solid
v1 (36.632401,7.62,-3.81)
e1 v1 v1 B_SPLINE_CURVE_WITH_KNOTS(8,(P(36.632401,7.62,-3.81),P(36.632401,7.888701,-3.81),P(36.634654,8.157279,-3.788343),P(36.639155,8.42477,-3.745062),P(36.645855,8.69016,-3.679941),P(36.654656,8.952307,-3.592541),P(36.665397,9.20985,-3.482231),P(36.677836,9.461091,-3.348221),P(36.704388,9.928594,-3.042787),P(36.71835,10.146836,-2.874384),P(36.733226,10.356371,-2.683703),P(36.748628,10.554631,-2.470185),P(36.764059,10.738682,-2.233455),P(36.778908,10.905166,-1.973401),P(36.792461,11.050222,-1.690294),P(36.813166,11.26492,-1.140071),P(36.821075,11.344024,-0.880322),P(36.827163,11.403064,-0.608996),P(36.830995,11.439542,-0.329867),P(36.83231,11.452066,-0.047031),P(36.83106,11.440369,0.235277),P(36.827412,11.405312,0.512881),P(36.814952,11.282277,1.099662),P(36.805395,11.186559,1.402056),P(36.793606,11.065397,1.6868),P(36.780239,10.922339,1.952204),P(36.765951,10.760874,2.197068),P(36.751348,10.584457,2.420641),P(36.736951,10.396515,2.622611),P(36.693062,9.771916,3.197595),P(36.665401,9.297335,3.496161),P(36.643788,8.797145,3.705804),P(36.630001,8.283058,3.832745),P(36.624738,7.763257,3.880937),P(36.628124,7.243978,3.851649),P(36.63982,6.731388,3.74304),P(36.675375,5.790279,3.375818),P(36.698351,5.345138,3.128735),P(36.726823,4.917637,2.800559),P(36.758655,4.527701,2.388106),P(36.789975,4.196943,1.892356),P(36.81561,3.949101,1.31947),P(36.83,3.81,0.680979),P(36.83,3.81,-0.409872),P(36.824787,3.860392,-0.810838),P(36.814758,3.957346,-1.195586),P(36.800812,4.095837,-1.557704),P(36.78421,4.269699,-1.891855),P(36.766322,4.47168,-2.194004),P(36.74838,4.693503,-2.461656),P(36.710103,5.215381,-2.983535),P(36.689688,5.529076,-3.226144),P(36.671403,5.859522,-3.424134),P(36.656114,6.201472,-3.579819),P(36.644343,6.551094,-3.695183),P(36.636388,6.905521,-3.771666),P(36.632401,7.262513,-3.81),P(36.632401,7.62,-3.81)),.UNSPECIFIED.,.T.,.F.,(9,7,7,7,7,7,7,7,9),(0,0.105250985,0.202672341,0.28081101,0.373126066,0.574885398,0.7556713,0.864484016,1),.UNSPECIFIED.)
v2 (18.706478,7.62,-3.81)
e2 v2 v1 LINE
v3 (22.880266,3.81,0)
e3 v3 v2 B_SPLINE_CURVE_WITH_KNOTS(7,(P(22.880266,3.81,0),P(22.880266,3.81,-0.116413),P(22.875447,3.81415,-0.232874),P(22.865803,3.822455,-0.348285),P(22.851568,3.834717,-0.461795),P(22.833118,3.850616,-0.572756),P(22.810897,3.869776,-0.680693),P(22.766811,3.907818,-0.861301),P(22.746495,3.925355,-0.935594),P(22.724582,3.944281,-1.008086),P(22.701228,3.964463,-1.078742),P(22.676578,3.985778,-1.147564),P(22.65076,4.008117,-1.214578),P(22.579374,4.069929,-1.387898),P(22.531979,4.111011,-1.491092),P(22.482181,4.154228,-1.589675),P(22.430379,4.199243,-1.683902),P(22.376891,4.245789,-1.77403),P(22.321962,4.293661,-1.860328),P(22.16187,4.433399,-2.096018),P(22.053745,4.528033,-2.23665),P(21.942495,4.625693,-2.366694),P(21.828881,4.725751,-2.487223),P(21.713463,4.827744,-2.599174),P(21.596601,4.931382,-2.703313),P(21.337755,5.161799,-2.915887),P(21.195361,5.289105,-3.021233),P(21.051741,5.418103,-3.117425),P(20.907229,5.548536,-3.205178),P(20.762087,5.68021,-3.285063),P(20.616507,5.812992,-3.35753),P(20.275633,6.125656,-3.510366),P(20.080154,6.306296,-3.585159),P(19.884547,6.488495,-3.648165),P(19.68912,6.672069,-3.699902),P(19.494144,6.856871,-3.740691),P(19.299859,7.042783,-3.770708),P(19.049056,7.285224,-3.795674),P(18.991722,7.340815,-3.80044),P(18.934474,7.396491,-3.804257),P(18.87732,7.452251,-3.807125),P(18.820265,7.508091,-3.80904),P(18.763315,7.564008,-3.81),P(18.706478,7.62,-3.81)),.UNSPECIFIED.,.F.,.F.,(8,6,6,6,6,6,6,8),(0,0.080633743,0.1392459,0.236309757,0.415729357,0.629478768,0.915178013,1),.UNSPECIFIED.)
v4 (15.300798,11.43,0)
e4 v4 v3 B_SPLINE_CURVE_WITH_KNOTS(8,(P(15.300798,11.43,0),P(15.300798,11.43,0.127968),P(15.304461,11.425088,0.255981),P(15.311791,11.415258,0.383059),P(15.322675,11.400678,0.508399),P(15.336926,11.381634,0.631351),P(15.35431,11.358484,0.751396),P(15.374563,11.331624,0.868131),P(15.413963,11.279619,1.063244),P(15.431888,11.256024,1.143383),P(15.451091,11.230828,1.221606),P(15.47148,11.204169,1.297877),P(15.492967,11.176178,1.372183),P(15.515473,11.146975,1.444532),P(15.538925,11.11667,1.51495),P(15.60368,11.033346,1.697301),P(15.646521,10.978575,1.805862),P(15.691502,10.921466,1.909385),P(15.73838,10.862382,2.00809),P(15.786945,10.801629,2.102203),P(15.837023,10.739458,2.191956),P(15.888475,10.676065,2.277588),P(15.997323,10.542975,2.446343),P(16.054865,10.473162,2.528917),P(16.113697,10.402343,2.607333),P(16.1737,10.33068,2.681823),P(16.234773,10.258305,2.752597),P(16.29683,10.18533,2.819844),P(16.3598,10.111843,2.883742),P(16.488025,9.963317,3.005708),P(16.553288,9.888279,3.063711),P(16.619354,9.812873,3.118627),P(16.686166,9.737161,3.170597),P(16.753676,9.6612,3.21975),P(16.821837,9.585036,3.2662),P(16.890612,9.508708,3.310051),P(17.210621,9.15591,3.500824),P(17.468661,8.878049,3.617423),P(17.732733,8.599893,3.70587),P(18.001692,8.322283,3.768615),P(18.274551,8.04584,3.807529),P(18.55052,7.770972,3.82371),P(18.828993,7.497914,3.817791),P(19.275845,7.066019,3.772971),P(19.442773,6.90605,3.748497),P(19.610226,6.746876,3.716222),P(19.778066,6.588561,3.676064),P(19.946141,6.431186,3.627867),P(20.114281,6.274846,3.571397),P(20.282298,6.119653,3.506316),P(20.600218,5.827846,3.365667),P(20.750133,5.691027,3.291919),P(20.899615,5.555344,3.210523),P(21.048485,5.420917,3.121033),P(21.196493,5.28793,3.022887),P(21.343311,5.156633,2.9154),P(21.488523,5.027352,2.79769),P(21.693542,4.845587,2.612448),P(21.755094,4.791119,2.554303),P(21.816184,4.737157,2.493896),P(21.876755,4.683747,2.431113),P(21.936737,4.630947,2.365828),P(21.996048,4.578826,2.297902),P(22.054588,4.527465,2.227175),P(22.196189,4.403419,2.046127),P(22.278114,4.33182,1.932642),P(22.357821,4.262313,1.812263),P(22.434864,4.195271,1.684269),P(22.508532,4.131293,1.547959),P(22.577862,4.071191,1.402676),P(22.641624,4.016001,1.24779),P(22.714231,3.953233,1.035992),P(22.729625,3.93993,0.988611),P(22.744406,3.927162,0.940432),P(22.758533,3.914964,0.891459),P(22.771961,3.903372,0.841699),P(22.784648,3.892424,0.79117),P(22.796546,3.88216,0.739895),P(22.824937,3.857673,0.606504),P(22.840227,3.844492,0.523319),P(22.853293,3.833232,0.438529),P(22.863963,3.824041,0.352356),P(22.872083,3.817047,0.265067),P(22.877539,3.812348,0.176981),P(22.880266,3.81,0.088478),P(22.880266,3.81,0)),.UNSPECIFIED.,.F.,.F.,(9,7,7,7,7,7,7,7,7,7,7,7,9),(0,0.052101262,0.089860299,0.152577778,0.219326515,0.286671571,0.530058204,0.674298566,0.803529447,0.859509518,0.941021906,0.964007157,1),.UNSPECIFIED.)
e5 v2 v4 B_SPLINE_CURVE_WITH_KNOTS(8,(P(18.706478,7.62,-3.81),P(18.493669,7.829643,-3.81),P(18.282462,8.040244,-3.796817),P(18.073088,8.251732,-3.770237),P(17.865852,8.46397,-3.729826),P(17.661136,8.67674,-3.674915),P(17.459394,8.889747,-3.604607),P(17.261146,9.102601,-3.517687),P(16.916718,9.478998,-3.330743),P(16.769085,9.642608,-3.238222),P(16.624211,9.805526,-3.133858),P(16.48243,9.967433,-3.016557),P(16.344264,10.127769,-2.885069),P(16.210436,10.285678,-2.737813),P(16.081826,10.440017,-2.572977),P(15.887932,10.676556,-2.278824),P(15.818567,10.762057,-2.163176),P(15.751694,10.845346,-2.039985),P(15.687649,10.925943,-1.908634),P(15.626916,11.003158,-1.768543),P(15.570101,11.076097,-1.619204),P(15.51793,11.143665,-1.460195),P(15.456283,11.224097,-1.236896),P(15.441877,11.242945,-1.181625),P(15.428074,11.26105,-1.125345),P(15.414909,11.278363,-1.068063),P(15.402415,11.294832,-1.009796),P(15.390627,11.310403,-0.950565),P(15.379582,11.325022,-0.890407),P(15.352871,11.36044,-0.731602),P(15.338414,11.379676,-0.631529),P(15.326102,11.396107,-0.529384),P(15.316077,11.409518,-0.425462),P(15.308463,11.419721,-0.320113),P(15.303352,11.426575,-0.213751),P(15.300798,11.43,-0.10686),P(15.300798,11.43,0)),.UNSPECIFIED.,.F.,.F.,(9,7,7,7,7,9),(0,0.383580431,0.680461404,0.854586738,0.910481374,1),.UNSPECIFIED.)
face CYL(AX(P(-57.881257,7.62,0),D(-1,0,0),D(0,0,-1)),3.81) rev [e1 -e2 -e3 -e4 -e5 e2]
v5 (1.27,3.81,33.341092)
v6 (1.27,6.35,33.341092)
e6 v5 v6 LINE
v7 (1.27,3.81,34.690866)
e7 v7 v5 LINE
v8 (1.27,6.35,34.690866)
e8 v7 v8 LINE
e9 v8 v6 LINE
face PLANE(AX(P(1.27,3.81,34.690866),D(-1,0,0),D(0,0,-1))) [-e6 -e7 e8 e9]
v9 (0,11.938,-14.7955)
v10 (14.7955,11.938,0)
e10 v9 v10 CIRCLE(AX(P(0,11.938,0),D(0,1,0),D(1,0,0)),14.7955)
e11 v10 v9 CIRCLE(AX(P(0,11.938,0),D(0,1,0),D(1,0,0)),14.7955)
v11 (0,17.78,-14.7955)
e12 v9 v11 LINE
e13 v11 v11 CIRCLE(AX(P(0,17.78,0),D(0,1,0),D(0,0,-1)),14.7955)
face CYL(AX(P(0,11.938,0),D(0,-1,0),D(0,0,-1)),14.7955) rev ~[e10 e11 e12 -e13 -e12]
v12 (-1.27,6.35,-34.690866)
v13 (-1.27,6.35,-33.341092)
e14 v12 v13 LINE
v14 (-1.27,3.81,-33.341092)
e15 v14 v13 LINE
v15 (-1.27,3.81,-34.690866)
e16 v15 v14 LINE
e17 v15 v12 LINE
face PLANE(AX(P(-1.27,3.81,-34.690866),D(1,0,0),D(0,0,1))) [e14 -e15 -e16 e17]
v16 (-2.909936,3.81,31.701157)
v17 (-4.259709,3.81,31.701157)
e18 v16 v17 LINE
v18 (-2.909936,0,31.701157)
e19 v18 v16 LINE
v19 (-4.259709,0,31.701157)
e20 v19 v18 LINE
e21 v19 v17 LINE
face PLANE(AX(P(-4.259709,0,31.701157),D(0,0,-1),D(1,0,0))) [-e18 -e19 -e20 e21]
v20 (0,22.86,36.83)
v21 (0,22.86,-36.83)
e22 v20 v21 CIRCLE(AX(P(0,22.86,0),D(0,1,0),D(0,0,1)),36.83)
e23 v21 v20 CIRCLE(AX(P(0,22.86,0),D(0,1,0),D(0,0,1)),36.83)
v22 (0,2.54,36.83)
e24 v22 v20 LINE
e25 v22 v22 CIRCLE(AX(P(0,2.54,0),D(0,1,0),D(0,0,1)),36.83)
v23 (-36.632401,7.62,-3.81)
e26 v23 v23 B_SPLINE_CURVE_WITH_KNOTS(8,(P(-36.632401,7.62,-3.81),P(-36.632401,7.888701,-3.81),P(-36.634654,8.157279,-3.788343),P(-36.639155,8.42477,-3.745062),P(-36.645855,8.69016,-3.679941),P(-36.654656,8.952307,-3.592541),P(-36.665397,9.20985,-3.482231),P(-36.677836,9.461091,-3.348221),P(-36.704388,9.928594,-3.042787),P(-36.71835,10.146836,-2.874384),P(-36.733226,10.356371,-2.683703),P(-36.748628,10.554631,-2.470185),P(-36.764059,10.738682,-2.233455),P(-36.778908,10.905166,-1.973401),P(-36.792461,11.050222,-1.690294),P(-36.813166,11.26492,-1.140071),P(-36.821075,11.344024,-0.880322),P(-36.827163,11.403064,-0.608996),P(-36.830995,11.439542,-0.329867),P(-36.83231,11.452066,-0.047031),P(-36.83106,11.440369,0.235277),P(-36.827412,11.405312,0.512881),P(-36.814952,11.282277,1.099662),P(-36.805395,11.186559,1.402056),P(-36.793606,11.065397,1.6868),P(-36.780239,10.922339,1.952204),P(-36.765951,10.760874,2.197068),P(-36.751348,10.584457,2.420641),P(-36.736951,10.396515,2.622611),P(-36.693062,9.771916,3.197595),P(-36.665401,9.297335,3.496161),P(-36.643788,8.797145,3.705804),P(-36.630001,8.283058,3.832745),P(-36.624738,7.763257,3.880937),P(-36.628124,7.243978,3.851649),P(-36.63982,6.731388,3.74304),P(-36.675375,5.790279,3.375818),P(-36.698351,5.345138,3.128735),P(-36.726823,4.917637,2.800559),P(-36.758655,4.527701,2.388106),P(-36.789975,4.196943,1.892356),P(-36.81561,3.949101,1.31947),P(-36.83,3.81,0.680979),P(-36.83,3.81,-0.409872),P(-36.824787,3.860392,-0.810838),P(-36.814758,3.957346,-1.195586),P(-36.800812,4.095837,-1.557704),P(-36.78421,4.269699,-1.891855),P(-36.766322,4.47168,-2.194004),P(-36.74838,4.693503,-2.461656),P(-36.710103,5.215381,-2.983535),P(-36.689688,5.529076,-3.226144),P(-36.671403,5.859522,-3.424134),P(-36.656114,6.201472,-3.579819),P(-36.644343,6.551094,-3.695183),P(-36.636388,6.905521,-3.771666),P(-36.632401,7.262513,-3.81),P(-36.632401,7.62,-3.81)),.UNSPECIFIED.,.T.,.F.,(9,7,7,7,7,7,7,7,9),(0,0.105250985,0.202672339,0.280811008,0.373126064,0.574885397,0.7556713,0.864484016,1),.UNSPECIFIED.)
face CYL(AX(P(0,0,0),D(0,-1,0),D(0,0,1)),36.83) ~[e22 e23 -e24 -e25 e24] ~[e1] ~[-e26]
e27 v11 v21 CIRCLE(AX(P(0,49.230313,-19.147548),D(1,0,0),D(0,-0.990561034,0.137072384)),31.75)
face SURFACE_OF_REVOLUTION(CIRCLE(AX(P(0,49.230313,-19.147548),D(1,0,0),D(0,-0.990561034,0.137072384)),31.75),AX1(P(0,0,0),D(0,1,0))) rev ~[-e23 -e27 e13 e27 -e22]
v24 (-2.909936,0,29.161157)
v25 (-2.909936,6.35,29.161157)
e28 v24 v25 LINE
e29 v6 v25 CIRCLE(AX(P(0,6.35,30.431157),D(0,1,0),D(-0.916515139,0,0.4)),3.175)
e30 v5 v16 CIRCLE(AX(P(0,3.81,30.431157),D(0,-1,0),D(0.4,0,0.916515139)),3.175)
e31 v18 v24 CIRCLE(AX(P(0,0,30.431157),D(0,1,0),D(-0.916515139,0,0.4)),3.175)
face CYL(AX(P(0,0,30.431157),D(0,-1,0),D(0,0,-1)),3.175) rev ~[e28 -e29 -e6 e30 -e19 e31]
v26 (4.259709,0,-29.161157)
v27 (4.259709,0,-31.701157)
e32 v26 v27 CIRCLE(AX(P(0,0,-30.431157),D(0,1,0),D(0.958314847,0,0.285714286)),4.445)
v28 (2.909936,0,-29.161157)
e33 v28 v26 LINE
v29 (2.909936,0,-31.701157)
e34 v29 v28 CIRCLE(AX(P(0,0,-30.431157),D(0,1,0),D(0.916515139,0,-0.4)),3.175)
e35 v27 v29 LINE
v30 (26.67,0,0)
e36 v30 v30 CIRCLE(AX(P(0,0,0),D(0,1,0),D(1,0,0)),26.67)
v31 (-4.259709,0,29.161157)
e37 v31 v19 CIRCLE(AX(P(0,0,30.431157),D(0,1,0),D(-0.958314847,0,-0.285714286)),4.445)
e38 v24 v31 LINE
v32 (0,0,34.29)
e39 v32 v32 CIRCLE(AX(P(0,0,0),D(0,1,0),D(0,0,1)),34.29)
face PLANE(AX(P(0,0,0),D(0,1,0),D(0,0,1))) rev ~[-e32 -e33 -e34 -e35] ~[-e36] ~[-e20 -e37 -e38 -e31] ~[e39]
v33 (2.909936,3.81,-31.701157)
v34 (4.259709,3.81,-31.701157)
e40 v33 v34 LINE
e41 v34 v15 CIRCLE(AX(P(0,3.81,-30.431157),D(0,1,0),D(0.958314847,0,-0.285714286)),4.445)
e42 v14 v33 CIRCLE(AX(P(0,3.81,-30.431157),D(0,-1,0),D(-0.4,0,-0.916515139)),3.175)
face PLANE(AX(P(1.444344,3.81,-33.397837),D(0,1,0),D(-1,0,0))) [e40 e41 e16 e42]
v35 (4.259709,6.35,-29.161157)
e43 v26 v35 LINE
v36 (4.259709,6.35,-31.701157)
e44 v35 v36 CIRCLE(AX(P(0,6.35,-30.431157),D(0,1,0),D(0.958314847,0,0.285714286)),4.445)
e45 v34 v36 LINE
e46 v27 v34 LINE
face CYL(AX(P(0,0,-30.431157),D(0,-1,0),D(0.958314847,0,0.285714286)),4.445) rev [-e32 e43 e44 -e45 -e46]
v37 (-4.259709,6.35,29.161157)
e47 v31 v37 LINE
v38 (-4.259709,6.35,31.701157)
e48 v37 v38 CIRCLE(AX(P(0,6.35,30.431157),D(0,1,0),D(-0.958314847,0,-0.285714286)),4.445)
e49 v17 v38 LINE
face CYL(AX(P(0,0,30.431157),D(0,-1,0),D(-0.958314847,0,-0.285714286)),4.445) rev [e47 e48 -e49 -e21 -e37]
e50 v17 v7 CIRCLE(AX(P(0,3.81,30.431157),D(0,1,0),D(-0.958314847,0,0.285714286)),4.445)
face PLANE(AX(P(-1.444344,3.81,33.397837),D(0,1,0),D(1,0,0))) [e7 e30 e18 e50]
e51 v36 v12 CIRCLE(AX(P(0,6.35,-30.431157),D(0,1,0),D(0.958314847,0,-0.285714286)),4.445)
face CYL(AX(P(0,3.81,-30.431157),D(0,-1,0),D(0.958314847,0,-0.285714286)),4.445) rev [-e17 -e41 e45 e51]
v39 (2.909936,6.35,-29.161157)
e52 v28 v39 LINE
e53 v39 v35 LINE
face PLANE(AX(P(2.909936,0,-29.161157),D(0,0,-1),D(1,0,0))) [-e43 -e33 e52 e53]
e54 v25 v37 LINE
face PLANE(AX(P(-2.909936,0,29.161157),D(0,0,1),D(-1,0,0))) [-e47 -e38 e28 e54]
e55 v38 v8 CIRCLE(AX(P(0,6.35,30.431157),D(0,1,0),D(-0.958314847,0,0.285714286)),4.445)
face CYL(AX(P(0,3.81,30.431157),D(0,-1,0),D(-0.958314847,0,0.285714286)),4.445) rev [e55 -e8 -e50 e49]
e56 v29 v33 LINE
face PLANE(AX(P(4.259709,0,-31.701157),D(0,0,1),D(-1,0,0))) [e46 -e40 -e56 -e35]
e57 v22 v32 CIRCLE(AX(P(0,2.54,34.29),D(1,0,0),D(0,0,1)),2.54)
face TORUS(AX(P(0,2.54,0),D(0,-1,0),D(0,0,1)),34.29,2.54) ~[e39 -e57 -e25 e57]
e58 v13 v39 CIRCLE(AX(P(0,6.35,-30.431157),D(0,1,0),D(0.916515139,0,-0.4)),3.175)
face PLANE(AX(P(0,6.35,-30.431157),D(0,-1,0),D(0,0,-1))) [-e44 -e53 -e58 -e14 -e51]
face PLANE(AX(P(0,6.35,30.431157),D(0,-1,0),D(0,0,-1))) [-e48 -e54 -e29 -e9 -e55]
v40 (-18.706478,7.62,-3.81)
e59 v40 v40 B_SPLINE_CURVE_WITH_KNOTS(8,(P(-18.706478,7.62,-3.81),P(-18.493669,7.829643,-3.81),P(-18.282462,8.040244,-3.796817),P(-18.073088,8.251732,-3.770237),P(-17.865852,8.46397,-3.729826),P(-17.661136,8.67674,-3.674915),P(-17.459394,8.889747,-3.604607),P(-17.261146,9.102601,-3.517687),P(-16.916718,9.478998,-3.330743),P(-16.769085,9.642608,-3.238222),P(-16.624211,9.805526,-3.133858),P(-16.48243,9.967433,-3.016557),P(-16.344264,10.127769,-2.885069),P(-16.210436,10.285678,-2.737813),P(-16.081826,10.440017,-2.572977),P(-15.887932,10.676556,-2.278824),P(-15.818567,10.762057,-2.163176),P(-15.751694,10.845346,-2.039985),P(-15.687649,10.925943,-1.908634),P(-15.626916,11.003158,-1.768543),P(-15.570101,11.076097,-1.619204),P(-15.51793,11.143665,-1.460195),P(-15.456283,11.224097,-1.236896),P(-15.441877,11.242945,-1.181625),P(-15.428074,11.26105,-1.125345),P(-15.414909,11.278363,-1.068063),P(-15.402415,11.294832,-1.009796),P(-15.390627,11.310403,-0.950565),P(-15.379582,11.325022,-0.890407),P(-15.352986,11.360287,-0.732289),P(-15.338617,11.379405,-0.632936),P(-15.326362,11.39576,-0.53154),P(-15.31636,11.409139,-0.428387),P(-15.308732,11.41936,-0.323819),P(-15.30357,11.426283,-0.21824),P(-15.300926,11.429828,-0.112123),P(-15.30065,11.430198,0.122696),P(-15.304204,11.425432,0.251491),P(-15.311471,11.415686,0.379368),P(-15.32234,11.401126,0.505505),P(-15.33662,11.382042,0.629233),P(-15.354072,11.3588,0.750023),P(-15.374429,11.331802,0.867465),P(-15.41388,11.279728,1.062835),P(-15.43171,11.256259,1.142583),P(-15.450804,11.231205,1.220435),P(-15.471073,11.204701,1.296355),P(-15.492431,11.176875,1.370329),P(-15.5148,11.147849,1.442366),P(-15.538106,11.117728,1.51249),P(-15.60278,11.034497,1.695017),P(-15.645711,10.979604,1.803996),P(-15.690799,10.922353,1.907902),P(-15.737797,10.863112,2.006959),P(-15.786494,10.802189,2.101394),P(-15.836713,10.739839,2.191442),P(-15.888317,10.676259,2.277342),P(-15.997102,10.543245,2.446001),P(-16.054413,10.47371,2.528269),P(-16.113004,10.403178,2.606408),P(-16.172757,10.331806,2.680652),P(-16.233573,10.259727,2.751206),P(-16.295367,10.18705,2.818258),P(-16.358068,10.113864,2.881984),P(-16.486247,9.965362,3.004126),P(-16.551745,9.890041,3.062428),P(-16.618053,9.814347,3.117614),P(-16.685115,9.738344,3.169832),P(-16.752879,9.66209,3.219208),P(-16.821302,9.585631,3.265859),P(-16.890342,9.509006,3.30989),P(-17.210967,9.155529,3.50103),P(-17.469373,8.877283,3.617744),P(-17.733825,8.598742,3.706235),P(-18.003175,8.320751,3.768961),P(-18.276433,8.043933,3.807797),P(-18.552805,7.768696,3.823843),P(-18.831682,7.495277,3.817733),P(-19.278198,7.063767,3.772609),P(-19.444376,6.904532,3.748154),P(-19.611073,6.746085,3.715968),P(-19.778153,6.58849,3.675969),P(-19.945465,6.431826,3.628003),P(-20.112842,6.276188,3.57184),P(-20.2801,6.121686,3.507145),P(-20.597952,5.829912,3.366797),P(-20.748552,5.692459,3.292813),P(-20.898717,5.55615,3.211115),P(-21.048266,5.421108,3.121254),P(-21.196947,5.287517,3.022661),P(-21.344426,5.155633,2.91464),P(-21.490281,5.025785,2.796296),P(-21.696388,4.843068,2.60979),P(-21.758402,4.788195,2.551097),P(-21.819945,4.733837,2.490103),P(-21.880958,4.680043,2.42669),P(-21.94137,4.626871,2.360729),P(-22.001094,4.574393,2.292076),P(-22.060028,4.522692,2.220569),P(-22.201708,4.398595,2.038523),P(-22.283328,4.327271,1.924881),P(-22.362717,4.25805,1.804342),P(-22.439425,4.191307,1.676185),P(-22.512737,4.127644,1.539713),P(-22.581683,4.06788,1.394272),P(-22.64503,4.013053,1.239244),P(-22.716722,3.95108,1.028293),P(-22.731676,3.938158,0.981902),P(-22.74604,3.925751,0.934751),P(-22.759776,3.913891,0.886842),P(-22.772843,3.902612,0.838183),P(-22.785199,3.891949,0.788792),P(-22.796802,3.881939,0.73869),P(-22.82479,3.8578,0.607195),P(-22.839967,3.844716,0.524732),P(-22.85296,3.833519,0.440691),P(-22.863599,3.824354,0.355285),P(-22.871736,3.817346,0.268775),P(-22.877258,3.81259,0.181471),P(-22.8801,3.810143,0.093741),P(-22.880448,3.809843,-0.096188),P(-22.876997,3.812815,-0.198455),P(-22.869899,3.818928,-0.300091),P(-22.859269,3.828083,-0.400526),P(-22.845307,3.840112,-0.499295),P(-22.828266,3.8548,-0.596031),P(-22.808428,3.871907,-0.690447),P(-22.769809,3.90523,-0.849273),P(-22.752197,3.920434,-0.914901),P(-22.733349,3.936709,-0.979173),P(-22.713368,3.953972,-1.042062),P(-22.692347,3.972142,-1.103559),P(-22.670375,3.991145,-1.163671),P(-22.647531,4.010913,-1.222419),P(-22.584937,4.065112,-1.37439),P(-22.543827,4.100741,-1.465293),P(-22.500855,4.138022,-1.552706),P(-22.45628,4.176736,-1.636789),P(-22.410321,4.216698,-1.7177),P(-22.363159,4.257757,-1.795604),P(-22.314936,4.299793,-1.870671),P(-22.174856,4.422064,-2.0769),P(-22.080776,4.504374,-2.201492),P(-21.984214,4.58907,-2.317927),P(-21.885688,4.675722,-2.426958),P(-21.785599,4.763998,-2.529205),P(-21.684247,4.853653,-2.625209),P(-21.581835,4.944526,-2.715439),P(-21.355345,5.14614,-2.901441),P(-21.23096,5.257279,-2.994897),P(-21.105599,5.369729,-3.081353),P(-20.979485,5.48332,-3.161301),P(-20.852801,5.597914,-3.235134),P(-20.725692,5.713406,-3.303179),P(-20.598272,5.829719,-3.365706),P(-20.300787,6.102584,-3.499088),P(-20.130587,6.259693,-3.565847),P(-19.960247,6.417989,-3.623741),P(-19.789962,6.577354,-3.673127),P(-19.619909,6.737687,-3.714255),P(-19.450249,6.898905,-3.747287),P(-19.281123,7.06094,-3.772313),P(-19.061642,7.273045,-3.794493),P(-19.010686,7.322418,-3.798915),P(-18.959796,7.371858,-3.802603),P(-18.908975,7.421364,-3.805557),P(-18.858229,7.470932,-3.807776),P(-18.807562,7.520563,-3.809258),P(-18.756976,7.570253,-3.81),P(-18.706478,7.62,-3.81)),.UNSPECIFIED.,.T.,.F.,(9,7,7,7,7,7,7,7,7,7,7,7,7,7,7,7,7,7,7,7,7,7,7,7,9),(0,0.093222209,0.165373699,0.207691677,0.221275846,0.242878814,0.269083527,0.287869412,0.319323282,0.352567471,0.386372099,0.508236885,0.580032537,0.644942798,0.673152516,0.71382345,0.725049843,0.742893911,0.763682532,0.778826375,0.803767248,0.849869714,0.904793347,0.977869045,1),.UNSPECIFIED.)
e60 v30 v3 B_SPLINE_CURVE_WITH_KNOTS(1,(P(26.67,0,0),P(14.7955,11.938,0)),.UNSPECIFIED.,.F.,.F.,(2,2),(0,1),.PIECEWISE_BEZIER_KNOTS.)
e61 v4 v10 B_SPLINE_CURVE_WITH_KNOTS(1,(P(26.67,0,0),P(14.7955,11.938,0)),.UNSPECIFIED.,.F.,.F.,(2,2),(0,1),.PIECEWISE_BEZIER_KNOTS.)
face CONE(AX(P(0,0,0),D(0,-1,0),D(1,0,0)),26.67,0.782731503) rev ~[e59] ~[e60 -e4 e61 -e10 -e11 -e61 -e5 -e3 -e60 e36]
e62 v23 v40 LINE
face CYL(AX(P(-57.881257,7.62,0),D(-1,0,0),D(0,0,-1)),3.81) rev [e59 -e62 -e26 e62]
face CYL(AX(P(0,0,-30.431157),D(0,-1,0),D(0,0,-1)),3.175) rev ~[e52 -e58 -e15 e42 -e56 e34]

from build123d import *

# Parameters (mm, degrees)
SKETCH1_R               = 36.83
BOSS_EXTRUDE1_DEPTH     = 22.86
FILLET1_R               = 2.54
SKETCH2_R               = 26.67
SKETCH3_R               = 14.7955
SKETCH4_R               = 14.7955
CUT_EXTRUDE1_DEPTH      = 76.2
SKETCH18_R              = 3.175
CUT_EXTRUDE2_DEPTH      = 6.35
CUT_EXTRUDE3_DEPTH      = 6.35
CUT_EXTRUDE4_START      = 2.54
CUT_EXTRUDE4_DEPTH      = 2.54
CIRPATTERN1_COUNT       = 2
CUT_EXTRUDE5_DEPTH      = 57.881257188
CUT_EXTRUDE5_DEPTH_BACK = 57.881257188
SKETCH22_R              = 3.81


with BuildPart() as part:
    # Sketch1 → Boss-Extrude1 (new body)
    with BuildSketch(Plane(origin=(0, 0, 0), x_dir=(1, 0, 0), z_dir=(0, 1, 0))):
        with Locations(Location((0, 0, 0), (0, 0, 270))):
            Circle(SKETCH1_R)
    extrude(amount=BOSS_EXTRUDE1_DEPTH)

    # Fillet1
    fillet1_edges = [part.edges().sort_by_distance(p)[0] for p in [
        (0, 0, -36.83),
    ]]
    fillet(fillet1_edges, radius=FILLET1_R)

    # Sketch2 → Cut-Loft1 section 0
    with BuildSketch(Plane(origin=(0, 0, 0), x_dir=(1, 0, 0), z_dir=(0, 1, 0))):
        Circle(SKETCH2_R)
    # Sketch3 → Cut-Loft1 section 1
    with BuildSketch(Plane(origin=(0, 11.938, 0), x_dir=(1, 0, 0), z_dir=(0, 1, 0))):
        Circle(SKETCH3_R)
    loft(mode=Mode.SUBTRACT)

    # Sketch4 → Cut-Extrude1 (cut)
    with BuildSketch(Plane.XZ.offset(-11.938)):
        with Locations(Location((0, 0, 0), (0, 0, 270))):
            Circle(SKETCH4_R)
    extrude(amount=-CUT_EXTRUDE1_DEPTH, mode=Mode.SUBTRACT)

    # Sketch17 → Cut-Revolve1 (revolve, cut)
    with BuildSketch(Plane(origin=(0, 0, 0), x_dir=(0, 0, -1), z_dir=(1, 0, 0))):
        with BuildLine():
            Line((36.83, 22.86), (14.7955, 22.86))
            Line((14.7955, 22.86), (14.7955, 17.78))
            ThreePointArc((14.7955, 17.78), (26.280325712, 18.29189035), (36.83, 22.86))
        make_face()
    revolve(axis=Axis((0, 0, 0), (0, 1, 0)), mode=Mode.SUBTRACT)

    # Sketch18 → Cut-Extrude2 (cut)
    with BuildSketch(Plane.XZ):
        with Locations(Location((0, 30.431156816, 0), (0, 0, 270))):
            Circle(SKETCH18_R)
        with Locations(Location((0, -30.431156816, 0), (0, 0, 270))):
            Circle(SKETCH18_R)
    extrude(amount=-CUT_EXTRUDE2_DEPTH, mode=Mode.SUBTRACT)

    # Sketch19 → Cut-Extrude3 (cut)
    with BuildSketch(Plane.XZ):
        with BuildLine():
            Line((4.259709497, -31.701156816), (2.909935566, -31.701156816))
            ThreePointArc((2.909935566, -31.701156816), (3.175, -30.431156816), (2.909935566, -29.161156816))
            Line((2.909935566, -29.161156816), (4.259709497, -29.161156816))
            ThreePointArc((4.259709497, -29.161156816), (4.445, -30.431156816), (4.259709497, -31.701156816))
        make_face()
    cut_extrude3 = extrude(amount=-CUT_EXTRUDE3_DEPTH, mode=Mode.SUBTRACT)

    # Sketch20 → Cut-Extrude4 (cut)
    with BuildSketch(Plane.XZ.offset(-6.35).offset(CUT_EXTRUDE4_START)):
        with BuildLine():
            Line((-1.27, -34.690866313), (-1.27, -33.341092382))
            ThreePointArc((-1.27, -33.341092382), (1.15960956, -33.3868176), (2.909935566, -31.701156816))
            Line((2.909935566, -31.701156816), (4.259709497, -31.701156816))
            ThreePointArc((4.259709497, -31.701156816), (2.114043859, -34.341251899), (-1.27, -34.690866313))
        make_face()
    cut_extrude4 = extrude(amount=-CUT_EXTRUDE4_DEPTH, mode=Mode.SUBTRACT)

    # CirPattern1: Cut-Extrude3, Cut-Extrude4 ×2 about axis
    cirpattern1_axis = Axis((0, 0, 0), (0, 1, 0))
    add([cut_extrude3.rotate(cirpattern1_axis, i * 360 / CIRPATTERN1_COUNT) for i in range(1, CIRPATTERN1_COUNT)], mode=Mode.SUBTRACT)
    add([cut_extrude4.rotate(cirpattern1_axis, i * 360 / CIRPATTERN1_COUNT) for i in range(1, CIRPATTERN1_COUNT)], mode=Mode.SUBTRACT)

    # Sketch22 → Cut-Extrude5 (cut, two sides: drawn at the far end of the back side and taken through both)
    with BuildSketch(Plane(origin=(0, 0, 0), x_dir=(0, 0, -1), z_dir=(1, 0, 0)).offset(-CUT_EXTRUDE5_DEPTH_BACK)):
        with Locations((0, 7.62)):
            Circle(SKETCH22_R)
    extrude(amount=CUT_EXTRUDE5_DEPTH + CUT_EXTRUDE5_DEPTH_BACK, mode=Mode.SUBTRACT)


solid = part.part
